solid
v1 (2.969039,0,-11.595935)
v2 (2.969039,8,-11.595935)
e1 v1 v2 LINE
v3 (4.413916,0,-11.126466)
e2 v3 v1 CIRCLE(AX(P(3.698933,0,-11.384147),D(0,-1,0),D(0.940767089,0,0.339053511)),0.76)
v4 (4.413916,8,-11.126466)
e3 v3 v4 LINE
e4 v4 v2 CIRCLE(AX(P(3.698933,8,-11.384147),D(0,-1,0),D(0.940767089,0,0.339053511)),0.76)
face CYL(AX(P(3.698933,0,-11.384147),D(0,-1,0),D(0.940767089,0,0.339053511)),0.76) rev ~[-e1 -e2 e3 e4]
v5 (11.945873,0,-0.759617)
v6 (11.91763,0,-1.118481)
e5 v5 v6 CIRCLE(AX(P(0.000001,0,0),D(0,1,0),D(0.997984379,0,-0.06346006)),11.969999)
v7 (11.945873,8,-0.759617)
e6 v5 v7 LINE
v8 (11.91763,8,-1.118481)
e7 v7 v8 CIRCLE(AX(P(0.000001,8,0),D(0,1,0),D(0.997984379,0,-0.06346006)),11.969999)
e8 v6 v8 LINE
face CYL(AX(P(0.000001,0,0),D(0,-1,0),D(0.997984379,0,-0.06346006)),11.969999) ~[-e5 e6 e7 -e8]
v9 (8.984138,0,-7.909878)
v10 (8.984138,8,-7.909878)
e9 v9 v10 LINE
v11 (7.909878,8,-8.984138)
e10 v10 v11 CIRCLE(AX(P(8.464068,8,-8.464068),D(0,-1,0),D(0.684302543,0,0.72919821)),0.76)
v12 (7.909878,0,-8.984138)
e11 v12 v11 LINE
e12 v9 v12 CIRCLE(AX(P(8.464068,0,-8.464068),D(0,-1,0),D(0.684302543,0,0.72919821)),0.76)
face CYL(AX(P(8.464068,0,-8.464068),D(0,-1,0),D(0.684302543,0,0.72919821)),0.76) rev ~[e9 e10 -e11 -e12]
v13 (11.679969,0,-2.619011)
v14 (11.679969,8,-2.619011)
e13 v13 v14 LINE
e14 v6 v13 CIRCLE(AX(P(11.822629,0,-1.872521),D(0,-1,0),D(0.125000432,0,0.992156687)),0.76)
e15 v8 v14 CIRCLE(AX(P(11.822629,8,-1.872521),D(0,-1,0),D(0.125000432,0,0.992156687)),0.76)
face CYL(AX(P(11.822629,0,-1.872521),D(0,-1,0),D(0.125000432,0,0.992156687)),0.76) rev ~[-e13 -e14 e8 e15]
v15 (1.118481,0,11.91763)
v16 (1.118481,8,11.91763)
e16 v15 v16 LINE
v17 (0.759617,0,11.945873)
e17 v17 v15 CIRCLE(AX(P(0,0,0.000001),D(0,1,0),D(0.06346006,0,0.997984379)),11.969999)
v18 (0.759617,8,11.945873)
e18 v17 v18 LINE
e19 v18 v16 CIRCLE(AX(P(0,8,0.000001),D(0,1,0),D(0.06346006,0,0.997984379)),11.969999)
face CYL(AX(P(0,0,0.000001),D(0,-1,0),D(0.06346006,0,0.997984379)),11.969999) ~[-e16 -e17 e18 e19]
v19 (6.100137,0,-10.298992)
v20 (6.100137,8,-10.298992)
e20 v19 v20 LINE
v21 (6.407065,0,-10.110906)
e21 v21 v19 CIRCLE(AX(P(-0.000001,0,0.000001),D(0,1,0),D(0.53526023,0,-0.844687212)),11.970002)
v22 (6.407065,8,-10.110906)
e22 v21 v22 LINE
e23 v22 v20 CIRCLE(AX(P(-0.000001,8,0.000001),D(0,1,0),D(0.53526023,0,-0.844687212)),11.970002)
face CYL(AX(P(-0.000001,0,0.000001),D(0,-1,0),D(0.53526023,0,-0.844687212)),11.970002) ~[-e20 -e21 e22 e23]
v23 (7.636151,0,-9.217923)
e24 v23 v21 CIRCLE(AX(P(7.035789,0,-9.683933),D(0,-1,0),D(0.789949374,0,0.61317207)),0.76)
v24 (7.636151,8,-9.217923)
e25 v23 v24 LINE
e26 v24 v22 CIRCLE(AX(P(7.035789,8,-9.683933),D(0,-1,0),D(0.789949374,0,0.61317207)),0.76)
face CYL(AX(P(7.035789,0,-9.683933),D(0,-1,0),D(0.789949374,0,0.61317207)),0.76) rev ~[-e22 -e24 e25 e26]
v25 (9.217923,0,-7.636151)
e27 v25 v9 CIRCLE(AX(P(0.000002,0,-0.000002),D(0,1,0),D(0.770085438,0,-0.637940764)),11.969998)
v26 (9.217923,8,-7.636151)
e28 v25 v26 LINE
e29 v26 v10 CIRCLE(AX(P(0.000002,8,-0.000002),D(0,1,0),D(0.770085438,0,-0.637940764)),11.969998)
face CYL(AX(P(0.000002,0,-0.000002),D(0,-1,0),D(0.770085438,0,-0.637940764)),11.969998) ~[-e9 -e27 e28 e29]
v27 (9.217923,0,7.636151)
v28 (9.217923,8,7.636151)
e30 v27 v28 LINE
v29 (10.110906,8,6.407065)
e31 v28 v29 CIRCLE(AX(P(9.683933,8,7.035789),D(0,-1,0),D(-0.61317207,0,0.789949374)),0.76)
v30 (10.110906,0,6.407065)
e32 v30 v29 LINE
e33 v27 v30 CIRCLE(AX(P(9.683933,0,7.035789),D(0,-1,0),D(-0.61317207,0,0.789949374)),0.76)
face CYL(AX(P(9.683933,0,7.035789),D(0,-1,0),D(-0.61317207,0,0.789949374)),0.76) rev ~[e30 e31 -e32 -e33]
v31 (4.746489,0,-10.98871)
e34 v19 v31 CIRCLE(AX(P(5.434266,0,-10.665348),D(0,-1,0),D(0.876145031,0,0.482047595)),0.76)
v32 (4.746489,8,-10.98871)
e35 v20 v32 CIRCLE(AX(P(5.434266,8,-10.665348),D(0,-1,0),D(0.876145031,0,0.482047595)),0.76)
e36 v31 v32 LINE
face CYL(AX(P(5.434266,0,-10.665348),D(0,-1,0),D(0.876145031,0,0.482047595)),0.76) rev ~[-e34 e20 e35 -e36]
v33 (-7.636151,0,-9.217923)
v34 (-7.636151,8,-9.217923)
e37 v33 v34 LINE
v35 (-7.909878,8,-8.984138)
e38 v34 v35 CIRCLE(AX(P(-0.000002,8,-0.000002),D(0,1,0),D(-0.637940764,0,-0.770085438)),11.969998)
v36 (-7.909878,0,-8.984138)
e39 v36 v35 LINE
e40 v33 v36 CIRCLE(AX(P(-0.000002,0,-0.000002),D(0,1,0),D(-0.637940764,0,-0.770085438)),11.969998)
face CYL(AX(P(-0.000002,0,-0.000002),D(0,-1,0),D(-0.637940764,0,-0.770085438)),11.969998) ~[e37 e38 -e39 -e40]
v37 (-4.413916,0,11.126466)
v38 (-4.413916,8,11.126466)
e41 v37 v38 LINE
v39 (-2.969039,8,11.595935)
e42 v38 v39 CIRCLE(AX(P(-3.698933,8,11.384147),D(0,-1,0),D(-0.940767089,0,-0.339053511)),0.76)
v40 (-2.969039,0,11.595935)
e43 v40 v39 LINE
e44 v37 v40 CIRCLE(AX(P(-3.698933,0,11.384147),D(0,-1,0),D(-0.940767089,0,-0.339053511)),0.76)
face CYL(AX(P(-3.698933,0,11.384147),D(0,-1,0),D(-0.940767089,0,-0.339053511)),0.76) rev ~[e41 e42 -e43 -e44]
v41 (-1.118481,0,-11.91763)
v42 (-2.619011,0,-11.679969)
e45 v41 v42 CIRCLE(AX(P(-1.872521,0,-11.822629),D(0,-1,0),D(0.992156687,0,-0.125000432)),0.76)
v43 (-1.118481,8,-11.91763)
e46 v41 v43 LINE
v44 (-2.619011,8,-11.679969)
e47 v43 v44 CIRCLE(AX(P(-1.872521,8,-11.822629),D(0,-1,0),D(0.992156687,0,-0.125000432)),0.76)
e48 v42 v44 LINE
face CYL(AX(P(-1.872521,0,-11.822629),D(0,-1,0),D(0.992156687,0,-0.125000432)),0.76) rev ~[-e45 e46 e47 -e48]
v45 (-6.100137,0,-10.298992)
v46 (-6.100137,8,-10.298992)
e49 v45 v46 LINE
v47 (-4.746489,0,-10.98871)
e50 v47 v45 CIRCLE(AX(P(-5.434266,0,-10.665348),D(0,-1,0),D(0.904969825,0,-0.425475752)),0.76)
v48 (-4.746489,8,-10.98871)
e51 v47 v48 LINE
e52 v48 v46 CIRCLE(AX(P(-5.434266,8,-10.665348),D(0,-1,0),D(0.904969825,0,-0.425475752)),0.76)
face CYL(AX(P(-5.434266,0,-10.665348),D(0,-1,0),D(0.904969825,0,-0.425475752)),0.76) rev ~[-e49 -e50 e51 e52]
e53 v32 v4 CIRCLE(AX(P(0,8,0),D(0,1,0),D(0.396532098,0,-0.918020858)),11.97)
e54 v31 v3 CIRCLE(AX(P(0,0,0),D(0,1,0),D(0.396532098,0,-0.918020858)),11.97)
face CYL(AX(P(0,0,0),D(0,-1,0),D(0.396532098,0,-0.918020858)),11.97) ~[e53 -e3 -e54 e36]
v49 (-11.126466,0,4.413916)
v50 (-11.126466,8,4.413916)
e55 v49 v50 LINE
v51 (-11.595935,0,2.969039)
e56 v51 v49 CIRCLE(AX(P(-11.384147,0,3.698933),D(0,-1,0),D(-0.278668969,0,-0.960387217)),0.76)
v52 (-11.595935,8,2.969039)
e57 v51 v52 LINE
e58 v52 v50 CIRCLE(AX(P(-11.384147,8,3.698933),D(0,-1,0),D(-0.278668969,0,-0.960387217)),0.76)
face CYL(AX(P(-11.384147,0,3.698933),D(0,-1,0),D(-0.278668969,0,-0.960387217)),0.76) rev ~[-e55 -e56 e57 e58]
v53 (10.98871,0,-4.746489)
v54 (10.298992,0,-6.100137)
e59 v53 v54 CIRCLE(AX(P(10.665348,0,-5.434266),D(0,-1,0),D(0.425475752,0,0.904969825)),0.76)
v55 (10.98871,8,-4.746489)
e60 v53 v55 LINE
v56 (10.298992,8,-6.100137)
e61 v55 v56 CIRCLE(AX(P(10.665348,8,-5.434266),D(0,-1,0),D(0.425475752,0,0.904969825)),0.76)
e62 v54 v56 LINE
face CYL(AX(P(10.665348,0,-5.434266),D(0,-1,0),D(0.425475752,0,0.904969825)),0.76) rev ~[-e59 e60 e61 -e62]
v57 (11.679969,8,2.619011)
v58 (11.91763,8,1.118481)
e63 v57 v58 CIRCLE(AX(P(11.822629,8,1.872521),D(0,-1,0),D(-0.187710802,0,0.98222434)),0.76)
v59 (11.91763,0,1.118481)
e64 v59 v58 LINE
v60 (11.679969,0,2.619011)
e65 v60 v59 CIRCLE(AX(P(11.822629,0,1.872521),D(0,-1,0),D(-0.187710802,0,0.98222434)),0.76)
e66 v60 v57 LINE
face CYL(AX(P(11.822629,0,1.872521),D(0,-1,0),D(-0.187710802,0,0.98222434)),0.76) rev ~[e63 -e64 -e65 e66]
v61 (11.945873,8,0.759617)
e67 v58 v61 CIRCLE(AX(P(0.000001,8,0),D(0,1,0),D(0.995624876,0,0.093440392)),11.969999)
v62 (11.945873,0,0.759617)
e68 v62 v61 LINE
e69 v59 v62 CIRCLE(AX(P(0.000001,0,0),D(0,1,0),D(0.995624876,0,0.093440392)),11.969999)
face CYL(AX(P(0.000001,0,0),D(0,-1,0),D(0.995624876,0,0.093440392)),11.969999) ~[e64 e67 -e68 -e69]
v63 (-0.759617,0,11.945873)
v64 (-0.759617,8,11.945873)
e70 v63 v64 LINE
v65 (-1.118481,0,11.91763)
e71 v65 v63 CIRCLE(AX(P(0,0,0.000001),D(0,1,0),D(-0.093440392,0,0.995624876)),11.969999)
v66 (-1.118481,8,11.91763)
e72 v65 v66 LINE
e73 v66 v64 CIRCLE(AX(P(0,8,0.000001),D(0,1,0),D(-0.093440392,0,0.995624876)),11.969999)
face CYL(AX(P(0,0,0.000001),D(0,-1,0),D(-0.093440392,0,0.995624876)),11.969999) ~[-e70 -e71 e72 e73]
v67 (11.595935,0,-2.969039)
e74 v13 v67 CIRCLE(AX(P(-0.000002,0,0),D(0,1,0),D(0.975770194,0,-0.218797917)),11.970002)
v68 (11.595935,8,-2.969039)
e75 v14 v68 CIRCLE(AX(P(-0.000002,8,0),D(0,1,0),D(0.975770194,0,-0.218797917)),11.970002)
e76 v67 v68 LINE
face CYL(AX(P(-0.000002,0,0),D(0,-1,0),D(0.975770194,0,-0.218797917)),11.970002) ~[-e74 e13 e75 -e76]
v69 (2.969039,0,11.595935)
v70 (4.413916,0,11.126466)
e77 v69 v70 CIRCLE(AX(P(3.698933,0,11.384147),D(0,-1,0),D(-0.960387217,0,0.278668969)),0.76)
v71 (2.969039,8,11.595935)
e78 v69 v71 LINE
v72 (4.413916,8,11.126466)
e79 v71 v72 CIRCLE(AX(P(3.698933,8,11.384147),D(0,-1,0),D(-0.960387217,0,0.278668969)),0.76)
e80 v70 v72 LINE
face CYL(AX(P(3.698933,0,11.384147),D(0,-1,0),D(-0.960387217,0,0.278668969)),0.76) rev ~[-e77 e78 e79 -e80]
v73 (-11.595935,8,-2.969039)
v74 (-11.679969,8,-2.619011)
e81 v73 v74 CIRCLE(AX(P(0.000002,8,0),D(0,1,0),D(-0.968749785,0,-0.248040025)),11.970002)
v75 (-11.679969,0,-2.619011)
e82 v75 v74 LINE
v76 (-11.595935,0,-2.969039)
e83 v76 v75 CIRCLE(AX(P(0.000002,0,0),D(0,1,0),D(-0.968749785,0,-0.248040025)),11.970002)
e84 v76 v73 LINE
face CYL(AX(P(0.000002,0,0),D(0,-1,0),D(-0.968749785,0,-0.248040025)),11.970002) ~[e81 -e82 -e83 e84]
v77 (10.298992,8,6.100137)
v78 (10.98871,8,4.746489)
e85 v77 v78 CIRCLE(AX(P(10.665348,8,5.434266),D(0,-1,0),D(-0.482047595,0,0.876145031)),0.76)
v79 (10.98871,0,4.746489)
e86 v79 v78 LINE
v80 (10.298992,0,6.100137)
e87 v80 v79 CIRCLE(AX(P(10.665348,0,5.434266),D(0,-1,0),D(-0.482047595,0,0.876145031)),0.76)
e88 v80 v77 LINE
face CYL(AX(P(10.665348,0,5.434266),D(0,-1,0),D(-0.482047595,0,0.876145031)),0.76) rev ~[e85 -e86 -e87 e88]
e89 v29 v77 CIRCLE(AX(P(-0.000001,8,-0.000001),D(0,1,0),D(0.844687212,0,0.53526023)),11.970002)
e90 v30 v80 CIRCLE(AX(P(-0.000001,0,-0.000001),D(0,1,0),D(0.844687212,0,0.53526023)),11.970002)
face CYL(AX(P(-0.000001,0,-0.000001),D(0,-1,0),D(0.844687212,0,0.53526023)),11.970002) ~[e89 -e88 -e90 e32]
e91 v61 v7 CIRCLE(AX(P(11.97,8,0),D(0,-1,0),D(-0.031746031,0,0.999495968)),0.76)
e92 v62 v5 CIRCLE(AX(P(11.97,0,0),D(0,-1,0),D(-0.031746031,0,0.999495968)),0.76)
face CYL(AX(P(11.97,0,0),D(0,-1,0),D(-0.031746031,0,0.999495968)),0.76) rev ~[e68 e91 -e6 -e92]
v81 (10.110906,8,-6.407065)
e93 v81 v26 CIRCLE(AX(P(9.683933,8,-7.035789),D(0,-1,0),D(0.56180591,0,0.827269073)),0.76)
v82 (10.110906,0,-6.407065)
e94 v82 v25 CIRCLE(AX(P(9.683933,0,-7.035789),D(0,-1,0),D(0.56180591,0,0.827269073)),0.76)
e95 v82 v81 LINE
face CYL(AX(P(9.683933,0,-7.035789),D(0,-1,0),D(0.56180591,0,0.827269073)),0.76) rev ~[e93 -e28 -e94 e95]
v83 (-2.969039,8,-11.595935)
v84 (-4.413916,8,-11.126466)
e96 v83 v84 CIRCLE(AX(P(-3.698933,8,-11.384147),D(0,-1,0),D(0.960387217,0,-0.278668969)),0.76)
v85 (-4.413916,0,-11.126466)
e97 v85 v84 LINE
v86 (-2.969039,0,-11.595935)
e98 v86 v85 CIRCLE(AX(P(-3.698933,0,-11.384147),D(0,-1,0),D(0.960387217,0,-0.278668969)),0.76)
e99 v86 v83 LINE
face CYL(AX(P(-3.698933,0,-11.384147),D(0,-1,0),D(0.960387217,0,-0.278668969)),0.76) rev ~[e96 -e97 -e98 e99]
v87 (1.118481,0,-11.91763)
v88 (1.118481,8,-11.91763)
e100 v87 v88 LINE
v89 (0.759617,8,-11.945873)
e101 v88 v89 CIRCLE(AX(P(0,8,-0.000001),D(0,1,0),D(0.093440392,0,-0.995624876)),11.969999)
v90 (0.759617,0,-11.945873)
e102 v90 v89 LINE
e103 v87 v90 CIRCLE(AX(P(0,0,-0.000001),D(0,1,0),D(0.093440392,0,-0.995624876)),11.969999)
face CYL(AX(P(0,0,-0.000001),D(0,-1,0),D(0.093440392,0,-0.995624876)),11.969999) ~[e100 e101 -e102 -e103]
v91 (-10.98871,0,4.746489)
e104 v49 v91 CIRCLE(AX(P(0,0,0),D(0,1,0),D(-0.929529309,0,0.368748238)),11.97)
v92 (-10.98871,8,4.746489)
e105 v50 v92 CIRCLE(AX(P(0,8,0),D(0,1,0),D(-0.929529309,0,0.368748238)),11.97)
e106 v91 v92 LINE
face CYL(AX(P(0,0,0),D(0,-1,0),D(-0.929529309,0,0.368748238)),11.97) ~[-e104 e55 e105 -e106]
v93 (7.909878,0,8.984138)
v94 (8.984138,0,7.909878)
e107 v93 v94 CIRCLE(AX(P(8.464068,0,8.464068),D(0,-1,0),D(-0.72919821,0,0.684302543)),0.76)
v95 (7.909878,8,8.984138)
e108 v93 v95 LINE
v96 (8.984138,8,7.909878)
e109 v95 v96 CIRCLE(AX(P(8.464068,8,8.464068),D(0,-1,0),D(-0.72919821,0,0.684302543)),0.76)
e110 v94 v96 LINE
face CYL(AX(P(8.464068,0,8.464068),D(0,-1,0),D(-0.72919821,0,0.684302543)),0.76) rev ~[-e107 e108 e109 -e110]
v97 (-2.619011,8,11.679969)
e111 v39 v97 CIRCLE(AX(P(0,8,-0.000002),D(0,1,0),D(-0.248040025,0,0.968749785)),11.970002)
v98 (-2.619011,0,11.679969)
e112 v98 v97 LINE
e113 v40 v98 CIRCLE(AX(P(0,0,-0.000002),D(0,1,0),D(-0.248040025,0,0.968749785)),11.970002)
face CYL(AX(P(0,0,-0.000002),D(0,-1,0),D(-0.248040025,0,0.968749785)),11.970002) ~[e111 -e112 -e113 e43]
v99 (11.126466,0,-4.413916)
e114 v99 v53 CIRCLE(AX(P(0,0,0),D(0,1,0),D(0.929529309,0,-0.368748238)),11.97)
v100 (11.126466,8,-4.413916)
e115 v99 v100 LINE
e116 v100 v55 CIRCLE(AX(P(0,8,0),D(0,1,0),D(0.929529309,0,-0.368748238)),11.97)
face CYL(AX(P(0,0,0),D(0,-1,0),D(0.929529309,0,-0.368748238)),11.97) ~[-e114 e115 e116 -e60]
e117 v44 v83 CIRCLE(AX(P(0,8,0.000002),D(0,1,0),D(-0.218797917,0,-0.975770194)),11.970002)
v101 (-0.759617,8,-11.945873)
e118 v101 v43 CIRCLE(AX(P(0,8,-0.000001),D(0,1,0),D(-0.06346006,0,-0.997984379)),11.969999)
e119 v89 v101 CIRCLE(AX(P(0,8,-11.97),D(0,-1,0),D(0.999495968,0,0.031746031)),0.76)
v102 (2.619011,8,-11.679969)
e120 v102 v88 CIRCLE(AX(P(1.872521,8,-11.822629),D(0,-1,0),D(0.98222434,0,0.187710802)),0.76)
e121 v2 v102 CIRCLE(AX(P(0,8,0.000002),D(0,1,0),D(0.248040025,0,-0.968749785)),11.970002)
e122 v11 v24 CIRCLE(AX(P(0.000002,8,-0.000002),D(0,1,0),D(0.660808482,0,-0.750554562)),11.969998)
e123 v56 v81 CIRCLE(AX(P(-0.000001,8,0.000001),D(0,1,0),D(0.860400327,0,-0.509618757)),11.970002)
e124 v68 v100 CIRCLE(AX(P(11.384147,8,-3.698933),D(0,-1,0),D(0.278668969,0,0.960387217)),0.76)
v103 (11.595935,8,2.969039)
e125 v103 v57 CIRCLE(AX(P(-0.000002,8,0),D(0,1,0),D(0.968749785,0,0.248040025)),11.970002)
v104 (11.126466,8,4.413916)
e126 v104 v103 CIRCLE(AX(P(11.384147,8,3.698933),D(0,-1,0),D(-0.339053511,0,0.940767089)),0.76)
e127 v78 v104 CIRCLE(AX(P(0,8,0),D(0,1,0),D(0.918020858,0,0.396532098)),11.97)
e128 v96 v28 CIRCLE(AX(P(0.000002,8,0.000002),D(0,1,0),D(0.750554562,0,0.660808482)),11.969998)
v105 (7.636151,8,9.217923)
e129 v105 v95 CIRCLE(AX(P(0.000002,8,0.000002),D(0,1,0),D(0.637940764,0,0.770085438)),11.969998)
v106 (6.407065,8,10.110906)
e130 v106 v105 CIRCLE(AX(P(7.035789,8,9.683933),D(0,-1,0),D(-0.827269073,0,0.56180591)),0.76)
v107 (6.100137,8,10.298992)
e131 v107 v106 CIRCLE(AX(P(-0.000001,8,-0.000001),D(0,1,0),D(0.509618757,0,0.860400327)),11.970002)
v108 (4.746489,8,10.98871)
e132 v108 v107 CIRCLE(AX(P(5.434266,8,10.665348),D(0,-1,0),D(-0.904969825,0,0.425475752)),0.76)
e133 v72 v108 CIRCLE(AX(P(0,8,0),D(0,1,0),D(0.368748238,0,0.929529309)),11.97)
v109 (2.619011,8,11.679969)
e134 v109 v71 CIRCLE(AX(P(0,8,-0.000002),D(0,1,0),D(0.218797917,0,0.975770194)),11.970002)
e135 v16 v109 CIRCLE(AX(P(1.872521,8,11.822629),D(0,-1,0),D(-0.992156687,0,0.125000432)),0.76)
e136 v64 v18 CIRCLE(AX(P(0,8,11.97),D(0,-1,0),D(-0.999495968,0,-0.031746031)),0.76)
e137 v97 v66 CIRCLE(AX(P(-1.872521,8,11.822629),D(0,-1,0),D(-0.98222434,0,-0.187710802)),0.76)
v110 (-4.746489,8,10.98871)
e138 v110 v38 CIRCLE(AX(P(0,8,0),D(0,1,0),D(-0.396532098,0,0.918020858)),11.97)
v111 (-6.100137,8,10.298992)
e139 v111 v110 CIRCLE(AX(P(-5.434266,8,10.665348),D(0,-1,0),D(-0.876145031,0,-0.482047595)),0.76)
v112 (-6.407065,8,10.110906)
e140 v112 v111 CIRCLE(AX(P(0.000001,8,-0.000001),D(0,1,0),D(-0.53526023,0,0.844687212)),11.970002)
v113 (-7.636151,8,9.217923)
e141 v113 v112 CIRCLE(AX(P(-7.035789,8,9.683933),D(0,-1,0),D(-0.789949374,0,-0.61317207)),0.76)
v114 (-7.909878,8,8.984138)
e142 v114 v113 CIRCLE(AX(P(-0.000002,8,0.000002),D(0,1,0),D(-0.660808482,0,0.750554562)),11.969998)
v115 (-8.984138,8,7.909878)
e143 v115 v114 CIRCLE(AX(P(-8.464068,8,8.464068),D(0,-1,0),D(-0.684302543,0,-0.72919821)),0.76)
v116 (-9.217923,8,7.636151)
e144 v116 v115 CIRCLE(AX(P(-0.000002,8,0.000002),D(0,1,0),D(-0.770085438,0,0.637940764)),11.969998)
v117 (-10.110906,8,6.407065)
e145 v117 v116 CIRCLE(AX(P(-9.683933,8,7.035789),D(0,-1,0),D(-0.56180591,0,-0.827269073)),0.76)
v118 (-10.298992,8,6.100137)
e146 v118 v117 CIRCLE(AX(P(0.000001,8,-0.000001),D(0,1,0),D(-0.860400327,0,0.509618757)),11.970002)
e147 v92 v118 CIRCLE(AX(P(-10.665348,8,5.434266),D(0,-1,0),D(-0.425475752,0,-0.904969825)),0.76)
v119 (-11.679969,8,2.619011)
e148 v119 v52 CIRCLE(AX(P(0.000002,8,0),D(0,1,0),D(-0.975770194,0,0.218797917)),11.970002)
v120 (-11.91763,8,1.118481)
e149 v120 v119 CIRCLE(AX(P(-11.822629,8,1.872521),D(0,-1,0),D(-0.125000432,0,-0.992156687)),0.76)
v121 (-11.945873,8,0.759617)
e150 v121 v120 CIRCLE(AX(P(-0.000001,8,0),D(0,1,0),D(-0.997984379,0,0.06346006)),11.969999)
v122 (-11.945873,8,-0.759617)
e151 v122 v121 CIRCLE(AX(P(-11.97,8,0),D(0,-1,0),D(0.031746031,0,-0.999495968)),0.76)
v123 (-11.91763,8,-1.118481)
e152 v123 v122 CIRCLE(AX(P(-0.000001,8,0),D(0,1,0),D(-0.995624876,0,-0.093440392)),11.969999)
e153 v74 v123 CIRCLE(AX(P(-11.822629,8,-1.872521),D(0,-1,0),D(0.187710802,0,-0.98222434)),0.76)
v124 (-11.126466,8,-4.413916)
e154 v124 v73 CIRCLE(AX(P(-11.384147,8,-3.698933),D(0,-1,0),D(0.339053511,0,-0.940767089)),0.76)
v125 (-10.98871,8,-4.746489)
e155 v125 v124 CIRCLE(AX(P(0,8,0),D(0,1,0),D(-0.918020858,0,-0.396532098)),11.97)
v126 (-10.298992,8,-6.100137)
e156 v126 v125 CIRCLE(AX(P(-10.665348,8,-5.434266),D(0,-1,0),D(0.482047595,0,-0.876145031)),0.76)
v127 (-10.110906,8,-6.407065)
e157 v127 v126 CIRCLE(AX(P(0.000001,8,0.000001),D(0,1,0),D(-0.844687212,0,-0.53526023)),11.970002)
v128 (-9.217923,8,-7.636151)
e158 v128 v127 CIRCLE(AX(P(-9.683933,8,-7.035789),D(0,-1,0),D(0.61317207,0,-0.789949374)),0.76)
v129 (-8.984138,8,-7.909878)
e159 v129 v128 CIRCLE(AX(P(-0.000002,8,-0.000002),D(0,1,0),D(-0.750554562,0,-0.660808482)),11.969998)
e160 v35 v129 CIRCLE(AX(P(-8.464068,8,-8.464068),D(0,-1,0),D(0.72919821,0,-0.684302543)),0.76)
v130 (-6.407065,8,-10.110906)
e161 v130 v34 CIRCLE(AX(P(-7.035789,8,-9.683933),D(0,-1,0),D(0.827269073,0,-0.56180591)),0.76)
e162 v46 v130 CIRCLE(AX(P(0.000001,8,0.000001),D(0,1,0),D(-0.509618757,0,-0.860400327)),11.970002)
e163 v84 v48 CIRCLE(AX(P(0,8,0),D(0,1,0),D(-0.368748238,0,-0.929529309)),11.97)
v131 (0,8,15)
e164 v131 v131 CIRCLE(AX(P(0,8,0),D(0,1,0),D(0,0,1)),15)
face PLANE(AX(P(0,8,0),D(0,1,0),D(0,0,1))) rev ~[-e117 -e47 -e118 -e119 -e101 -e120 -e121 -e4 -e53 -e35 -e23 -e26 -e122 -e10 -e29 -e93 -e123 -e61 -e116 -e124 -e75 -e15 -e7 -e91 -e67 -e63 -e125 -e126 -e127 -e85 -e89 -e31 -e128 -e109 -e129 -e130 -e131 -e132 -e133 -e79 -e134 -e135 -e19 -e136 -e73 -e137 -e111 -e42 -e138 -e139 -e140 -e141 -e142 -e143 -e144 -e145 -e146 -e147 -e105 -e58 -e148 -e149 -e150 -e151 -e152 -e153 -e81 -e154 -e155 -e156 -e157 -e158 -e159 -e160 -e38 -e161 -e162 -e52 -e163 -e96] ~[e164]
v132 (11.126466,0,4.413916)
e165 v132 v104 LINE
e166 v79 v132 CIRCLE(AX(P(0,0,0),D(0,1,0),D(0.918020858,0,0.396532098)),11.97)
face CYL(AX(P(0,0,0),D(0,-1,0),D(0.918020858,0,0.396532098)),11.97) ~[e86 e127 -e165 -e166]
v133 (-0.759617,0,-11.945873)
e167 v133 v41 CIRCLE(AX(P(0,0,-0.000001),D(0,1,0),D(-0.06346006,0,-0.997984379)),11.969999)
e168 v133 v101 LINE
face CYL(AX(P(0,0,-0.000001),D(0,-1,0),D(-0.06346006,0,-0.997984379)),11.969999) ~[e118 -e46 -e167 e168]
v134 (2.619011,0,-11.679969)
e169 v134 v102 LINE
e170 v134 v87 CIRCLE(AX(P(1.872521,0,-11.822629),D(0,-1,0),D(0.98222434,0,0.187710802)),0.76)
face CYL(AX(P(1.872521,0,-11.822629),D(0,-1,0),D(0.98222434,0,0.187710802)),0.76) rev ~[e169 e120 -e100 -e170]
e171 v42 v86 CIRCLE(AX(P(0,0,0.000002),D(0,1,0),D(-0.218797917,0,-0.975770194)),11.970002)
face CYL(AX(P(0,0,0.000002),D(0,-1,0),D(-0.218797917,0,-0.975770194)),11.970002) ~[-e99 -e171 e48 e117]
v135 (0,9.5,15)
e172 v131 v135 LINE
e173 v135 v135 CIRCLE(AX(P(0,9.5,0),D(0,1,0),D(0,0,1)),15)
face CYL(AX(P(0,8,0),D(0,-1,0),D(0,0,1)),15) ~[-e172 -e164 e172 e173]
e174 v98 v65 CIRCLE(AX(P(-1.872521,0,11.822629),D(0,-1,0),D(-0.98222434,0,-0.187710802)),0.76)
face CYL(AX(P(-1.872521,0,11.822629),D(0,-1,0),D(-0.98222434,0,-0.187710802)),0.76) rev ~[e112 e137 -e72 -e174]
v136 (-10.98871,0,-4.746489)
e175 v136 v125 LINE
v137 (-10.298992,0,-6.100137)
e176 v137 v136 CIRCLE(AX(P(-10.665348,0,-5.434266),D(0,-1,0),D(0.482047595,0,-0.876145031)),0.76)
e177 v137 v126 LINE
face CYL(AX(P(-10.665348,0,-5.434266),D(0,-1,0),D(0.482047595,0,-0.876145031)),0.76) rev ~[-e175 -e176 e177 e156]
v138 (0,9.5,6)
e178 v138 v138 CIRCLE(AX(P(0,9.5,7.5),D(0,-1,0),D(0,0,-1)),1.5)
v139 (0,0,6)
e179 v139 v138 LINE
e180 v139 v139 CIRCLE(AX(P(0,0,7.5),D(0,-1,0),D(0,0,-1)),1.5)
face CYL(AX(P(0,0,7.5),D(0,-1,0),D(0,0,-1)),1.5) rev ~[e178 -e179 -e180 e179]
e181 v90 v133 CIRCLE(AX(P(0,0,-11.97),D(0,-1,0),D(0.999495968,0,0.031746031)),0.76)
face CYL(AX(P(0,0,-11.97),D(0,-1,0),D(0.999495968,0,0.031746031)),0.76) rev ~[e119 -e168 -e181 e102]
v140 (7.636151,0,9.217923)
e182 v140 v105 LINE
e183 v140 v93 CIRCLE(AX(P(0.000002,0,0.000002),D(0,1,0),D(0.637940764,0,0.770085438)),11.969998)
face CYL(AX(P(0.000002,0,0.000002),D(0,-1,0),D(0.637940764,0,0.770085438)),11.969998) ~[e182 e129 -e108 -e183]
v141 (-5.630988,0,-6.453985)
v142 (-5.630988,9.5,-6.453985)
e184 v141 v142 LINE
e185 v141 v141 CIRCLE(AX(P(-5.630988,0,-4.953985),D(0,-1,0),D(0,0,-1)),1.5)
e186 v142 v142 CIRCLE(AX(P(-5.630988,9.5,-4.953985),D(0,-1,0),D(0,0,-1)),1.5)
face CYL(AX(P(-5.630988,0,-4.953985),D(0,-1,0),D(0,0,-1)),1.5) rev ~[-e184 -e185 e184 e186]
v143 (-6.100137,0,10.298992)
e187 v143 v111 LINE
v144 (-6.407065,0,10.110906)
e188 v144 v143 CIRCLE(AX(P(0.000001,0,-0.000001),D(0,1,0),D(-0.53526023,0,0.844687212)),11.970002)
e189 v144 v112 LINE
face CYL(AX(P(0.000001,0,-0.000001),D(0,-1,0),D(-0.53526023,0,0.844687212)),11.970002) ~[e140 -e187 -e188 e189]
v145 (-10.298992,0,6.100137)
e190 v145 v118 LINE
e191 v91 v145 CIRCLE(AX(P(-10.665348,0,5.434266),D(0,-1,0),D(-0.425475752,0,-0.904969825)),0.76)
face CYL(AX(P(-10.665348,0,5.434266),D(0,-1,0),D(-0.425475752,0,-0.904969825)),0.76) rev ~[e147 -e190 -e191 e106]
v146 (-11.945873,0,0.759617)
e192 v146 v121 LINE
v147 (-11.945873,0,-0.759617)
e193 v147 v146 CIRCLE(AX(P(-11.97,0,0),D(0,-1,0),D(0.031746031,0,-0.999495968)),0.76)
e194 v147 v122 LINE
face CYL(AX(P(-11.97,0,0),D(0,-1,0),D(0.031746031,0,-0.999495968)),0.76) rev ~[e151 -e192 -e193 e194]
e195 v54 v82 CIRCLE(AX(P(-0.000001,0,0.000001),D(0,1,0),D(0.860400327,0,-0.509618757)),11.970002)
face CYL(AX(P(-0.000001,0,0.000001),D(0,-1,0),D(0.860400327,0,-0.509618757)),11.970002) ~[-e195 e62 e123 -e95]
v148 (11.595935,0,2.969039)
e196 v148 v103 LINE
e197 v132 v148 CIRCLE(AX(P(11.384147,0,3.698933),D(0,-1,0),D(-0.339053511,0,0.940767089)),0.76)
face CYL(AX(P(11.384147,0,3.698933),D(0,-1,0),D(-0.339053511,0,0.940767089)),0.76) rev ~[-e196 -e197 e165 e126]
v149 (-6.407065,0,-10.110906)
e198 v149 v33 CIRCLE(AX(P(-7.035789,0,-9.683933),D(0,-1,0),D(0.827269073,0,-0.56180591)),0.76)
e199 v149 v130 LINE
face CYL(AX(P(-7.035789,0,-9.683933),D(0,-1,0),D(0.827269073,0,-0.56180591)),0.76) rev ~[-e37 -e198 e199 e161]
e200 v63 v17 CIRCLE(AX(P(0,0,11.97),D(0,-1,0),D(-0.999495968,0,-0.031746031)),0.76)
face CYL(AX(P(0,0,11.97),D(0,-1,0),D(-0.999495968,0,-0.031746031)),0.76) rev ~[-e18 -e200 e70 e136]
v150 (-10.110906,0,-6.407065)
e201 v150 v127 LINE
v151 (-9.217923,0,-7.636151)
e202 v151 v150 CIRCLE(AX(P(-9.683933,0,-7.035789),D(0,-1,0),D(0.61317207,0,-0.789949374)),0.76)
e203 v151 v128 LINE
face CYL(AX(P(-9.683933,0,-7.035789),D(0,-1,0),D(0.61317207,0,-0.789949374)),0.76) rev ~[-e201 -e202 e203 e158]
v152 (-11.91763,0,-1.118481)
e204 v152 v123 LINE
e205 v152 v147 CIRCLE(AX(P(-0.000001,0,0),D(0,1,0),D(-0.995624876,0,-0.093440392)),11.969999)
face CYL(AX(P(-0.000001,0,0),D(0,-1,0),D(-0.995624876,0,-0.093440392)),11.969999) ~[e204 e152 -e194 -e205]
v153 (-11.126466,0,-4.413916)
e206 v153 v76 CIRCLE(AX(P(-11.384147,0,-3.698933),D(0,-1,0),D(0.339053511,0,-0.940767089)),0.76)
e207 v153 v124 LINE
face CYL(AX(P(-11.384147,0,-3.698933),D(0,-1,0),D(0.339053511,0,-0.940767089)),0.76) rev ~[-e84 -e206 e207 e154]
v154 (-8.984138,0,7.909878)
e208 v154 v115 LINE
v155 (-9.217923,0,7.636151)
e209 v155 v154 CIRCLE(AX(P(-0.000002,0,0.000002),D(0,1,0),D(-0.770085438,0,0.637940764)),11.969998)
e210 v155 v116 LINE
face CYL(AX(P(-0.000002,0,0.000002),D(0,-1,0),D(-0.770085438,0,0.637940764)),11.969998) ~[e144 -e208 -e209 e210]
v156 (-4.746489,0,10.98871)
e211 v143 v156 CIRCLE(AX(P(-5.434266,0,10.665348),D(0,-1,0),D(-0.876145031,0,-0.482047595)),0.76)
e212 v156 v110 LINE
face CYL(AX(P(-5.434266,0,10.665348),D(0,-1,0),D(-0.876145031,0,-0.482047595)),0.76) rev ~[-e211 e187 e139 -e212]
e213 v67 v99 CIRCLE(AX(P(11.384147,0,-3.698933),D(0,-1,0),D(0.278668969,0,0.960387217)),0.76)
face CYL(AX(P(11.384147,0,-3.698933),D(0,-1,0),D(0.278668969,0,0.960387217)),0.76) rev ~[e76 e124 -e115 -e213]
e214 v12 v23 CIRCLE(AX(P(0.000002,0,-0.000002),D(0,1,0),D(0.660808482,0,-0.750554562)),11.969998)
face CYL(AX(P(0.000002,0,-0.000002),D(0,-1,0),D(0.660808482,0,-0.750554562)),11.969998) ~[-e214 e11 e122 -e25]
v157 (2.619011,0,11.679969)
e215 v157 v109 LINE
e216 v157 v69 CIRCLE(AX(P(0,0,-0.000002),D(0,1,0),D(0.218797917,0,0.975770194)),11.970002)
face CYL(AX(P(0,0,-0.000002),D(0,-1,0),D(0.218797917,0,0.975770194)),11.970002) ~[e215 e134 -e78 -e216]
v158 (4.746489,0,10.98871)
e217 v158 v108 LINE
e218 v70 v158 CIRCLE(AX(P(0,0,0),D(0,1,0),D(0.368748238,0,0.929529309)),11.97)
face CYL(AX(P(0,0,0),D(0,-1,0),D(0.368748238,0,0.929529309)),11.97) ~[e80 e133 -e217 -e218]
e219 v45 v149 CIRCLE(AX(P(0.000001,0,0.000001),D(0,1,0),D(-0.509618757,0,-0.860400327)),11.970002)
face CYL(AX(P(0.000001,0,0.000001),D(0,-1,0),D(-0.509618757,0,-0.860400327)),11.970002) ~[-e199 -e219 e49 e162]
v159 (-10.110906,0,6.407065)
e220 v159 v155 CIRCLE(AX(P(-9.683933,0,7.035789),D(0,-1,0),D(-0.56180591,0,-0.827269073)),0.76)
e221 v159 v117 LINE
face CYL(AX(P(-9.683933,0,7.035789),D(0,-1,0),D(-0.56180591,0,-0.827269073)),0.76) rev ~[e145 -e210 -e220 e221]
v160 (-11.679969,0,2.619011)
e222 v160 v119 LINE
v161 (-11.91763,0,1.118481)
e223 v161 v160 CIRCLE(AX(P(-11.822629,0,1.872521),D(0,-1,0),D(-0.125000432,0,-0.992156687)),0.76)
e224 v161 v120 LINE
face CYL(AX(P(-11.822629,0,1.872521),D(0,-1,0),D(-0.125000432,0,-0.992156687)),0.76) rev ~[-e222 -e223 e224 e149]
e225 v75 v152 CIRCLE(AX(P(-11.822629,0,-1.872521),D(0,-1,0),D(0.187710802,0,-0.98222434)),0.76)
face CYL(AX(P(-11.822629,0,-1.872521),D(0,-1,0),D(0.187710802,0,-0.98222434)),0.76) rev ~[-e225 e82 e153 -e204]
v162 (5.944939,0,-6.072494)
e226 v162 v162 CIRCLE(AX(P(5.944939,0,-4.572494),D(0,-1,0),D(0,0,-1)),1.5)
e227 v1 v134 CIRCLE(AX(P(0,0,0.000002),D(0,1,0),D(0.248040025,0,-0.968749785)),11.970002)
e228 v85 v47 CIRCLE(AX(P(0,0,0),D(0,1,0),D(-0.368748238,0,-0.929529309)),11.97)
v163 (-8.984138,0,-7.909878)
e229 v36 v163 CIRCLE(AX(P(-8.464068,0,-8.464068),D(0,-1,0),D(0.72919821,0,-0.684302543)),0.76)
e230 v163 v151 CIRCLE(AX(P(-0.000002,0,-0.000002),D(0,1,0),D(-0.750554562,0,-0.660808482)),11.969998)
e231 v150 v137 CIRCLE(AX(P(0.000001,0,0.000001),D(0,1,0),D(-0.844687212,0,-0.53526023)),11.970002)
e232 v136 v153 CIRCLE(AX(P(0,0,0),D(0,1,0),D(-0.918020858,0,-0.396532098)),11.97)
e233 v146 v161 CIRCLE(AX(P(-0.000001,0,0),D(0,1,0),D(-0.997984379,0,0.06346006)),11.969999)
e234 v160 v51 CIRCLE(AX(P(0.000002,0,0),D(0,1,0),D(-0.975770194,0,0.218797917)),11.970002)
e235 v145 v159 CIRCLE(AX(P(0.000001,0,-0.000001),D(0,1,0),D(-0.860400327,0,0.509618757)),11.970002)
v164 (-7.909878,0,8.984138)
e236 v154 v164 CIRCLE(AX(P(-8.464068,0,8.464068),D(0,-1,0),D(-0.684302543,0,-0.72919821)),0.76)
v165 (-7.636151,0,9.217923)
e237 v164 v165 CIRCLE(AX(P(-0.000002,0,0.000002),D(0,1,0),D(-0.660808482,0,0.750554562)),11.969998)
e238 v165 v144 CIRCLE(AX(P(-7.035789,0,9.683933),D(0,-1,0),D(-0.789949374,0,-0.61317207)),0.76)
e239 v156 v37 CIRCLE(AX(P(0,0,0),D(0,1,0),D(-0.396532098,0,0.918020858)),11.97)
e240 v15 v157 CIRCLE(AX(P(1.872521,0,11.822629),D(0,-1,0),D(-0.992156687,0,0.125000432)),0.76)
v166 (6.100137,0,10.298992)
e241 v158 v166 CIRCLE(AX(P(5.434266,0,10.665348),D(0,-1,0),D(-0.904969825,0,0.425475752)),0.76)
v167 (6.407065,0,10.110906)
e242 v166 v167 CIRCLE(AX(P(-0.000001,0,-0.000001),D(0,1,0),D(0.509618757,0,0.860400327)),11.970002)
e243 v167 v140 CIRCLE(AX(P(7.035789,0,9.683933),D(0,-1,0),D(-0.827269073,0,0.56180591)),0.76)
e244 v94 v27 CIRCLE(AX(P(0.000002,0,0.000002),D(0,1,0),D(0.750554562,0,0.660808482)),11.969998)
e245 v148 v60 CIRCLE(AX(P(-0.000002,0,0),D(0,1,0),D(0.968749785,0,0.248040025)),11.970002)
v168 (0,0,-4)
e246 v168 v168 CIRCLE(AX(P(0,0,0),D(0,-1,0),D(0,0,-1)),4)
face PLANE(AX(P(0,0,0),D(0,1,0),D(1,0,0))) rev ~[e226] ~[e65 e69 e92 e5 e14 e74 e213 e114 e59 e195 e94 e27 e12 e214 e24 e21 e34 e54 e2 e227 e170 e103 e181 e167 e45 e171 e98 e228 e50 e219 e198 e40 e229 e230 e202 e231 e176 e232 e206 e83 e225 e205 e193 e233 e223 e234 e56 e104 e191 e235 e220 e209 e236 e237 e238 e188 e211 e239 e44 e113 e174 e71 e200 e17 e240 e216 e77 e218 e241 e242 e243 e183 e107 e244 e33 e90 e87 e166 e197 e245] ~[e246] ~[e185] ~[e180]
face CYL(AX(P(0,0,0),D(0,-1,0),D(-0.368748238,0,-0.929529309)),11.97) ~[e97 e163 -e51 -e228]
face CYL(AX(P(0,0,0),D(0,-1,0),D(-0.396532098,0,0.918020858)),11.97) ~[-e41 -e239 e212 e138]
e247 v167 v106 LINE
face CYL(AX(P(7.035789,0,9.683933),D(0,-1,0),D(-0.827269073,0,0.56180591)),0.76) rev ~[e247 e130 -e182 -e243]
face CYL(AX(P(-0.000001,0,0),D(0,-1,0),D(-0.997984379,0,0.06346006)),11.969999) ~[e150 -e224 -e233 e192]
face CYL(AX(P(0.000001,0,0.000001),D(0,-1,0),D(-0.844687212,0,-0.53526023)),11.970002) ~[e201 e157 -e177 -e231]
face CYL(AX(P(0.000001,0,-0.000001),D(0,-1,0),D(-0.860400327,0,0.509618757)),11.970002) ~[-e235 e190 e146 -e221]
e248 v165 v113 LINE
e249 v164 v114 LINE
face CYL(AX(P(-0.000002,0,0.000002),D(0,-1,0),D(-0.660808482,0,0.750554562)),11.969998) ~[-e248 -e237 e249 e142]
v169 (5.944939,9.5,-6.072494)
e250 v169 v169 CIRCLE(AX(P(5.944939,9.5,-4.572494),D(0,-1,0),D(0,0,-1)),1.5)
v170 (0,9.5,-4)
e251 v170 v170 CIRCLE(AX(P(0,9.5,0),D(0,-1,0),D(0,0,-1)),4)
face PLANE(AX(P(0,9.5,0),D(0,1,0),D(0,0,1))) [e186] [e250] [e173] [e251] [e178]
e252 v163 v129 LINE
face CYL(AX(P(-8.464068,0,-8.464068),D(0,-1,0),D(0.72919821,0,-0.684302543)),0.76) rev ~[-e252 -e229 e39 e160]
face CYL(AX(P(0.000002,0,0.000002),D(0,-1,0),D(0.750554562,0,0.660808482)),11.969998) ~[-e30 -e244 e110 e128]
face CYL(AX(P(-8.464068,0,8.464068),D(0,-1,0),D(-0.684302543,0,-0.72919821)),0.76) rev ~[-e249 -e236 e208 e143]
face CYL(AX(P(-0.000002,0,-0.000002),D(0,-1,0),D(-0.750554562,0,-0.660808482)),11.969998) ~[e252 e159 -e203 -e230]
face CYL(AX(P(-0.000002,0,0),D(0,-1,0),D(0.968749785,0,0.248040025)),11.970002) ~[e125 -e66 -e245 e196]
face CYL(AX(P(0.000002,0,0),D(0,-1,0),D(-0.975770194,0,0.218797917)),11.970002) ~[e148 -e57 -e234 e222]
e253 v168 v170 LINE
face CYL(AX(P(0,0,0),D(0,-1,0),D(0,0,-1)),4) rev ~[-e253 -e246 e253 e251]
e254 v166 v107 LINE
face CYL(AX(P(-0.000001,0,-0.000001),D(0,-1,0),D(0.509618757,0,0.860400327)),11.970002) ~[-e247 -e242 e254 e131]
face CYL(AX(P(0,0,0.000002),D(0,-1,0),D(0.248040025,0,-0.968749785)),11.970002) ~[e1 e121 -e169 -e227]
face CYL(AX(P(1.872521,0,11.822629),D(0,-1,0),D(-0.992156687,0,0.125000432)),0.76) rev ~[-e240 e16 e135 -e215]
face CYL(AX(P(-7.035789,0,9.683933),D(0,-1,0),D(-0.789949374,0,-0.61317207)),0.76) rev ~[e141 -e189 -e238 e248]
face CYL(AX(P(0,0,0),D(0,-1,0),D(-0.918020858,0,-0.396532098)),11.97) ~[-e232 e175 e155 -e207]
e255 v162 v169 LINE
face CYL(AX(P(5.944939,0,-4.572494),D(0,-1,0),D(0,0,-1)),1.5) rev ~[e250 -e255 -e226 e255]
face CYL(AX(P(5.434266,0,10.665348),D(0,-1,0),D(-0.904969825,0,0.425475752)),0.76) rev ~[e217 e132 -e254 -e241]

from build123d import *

# Parameters (mm, degrees)
BOSS_EXTRUDE1_DEPTH = 8
SKETCH2_R           = 15
BOSS_EXTRUDE2_DEPTH = 1.5
SKETCH4_R           = 4
SKETCH4_R_2         = 1.5
CUT_EXTRUDE1_DEPTH  = 23


with BuildPart() as part:
    # Sketch1 → Boss-Extrude1 (new body)
    with BuildSketch(Plane(origin=(0, 0, 0), x_dir=(1, 0, 0), z_dir=(0, 1, 0))):
        with BuildLine():
            ThreePointArc((-2.619011045, 11.679969227), (-2.794341005, 11.639267947), (-2.969039138, 11.595934917))
            ThreePointArc((-2.969039138, 11.595934917), (-3.464080507, 10.661343548), (-4.413916411, 11.126465832))
            ThreePointArc((-4.413916411, 11.126465832), (-4.580720685, 11.058838004), (-4.746489215, 10.988709666))
            ThreePointArc((-4.746489215, 10.988709666), (-5.089233502, 9.988183136), (-6.100136506, 10.298991922))
            ThreePointArc((-6.100136506, 10.298991922), (-6.25430782, 10.206102767), (-6.407064974, 10.110905915))
            ThreePointArc((-6.407064974, 10.110905915), (-6.589072678, 9.069080507), (-7.636150994, 9.21792265))
            ThreePointArc((-7.636150994, 9.21792265), (-7.773893139, 9.102059408), (-7.909877531, 8.984138103))
            ThreePointArc((-7.909877531, 8.984138103), (-7.926667017, 7.926667017), (-8.984138103, 7.909877531))
            ThreePointArc((-8.984138103, 7.909877531), (-9.102059408, 7.773893139), (-9.21792265, 7.636150994))
            ThreePointArc((-9.21792265, 7.636150994), (-9.069080507, 6.589072678), (-10.110905915, 6.407064974))
            ThreePointArc((-10.110905915, 6.407064974), (-10.206102767, 6.25430782), (-10.298991922, 6.100136506))
            ThreePointArc((-10.298991922, 6.100136506), (-9.988183136, 5.089233502), (-10.988709666, 4.746489215))
            ThreePointArc((-10.988709666, 4.746489215), (-11.058838004, 4.580720685), (-11.126465832, 4.413916411))
            ThreePointArc((-11.126465832, 4.413916411), (-10.661343548, 3.464080507), (-11.595934917, 2.969039138))
            ThreePointArc((-11.595934917, 2.969039138), (-11.639267947, 2.794341005), (-11.679969227, 2.619011045))
            ThreePointArc((-11.679969227, 2.619011045), (-11.071986298, 1.753630353), (-11.917629765, 1.118481464))
            ThreePointArc((-11.917629765, 1.118481464), (-11.933100485, 0.939155376), (-11.945873016, 0.759616935))
            ThreePointArc((-11.945873016, 0.759616935), (-11.21, 0), (-11.945873016, -0.759616935))
            ThreePointArc((-11.945873016, -0.759616935), (-11.933100485, -0.939155376), (-11.917629765, -1.118481464))
            ThreePointArc((-11.917629765, -1.118481464), (-11.071986298, -1.753630353), (-11.679969227, -2.619011045))
            ThreePointArc((-11.679969227, -2.619011045), (-11.639267947, -2.794341005), (-11.595934917, -2.969039138))
            ThreePointArc((-11.595934917, -2.969039138), (-10.661343548, -3.464080507), (-11.126465832, -4.413916411))
            ThreePointArc((-11.126465832, -4.413916411), (-11.058838004, -4.580720685), (-10.988709666, -4.746489215))
            ThreePointArc((-10.988709666, -4.746489215), (-9.988183136, -5.089233502), (-10.298991922, -6.100136506))
            ThreePointArc((-10.298991922, -6.100136506), (-10.206102767, -6.25430782), (-10.110905915, -6.407064974))
            ThreePointArc((-10.110905915, -6.407064974), (-9.069080507, -6.589072678), (-9.21792265, -7.636150994))
            ThreePointArc((-9.21792265, -7.636150994), (-9.102059408, -7.773893139), (-8.984138103, -7.909877531))
            ThreePointArc((-8.984138103, -7.909877531), (-7.926667017, -7.926667017), (-7.909877531, -8.984138103))
            ThreePointArc((-7.909877531, -8.984138103), (-7.773893139, -9.102059408), (-7.636150994, -9.21792265))
            ThreePointArc((-7.636150994, -9.21792265), (-6.589072678, -9.069080507), (-6.407064974, -10.110905915))
            ThreePointArc((-6.407064974, -10.110905915), (-6.25430782, -10.206102767), (-6.100136506, -10.298991922))
            ThreePointArc((-6.100136506, -10.298991922), (-5.089233502, -9.988183136), (-4.746489215, -10.988709666))
            ThreePointArc((-4.746489215, -10.988709666), (-4.580720685, -11.058838004), (-4.413916411, -11.126465832))
            ThreePointArc((-4.413916411, -11.126465832), (-3.464080507, -10.661343548), (-2.969039138, -11.595934917))
            ThreePointArc((-2.969039138, -11.595934917), (-2.794341005, -11.639267947), (-2.619011045, -11.679969227))
            ThreePointArc((-2.619011045, -11.679969227), (-1.753630353, -11.071986298), (-1.118481464, -11.917629765))
            ThreePointArc((-1.118481464, -11.917629765), (-0.939155376, -11.933100485), (-0.759616935, -11.945873016))
            ThreePointArc((-0.759616935, -11.945873016), (0, -11.21), (0.759616935, -11.945873016))
            ThreePointArc((0.759616935, -11.945873016), (0.939155376, -11.933100485), (1.118481464, -11.917629765))
            ThreePointArc((1.118481464, -11.917629765), (1.753630353, -11.071986298), (2.619011045, -11.679969227))
            ThreePointArc((2.619011045, -11.679969227), (2.794341005, -11.639267947), (2.969039138, -11.595934917))
            ThreePointArc((2.969039138, -11.595934917), (3.464080507, -10.661343548), (4.413916411, -11.126465832))
            ThreePointArc((4.413916411, -11.126465832), (4.580720685, -11.058838004), (4.746489215, -10.988709666))
            ThreePointArc((4.746489215, -10.988709666), (5.089233502, -9.988183136), (6.100136506, -10.298991922))
            ThreePointArc((6.100136506, -10.298991922), (6.25430782, -10.206102767), (6.407064974, -10.110905915))
            ThreePointArc((6.407064974, -10.110905915), (6.589072678, -9.069080507), (7.636150994, -9.21792265))
            ThreePointArc((7.636150994, -9.21792265), (7.773893139, -9.102059408), (7.909877531, -8.984138103))
            ThreePointArc((7.909877531, -8.984138103), (7.926667017, -7.926667017), (8.984138103, -7.909877531))
            ThreePointArc((8.984138103, -7.909877531), (9.102059408, -7.773893139), (9.21792265, -7.636150994))
            ThreePointArc((9.21792265, -7.636150994), (9.069080507, -6.589072678), (10.110905915, -6.407064974))
            ThreePointArc((10.110905915, -6.407064974), (10.206102767, -6.25430782), (10.298991922, -6.100136506))
            ThreePointArc((10.298991922, -6.100136506), (9.988183136, -5.089233502), (10.988709666, -4.746489215))
            ThreePointArc((10.988709666, -4.746489215), (11.058838004, -4.580720685), (11.126465832, -4.413916411))
            ThreePointArc((11.126465832, -4.413916411), (10.661343548, -3.464080507), (11.595934917, -2.969039138))
            ThreePointArc((11.595934917, -2.969039138), (11.639267947, -2.794341005), (11.679969227, -2.619011045))
            ThreePointArc((11.679969227, -2.619011045), (11.071986298, -1.753630353), (11.917629765, -1.118481464))
            ThreePointArc((11.917629765, -1.118481464), (11.933100485, -0.939155376), (11.945873016, -0.759616935))
            ThreePointArc((11.945873016, -0.759616935), (11.21, 0), (11.945873016, 0.759616935))
            ThreePointArc((11.945873016, 0.759616935), (11.933100485, 0.939155376), (11.917629765, 1.118481464))
            ThreePointArc((11.917629765, 1.118481464), (11.071986298, 1.753630353), (11.679969227, 2.619011045))
            ThreePointArc((11.679969227, 2.619011045), (11.639267947, 2.794341005), (11.595934917, 2.969039138))
            ThreePointArc((11.595934917, 2.969039138), (10.661343548, 3.464080507), (11.126465832, 4.413916411))
            ThreePointArc((11.126465832, 4.413916411), (11.058838004, 4.580720685), (10.988709666, 4.746489215))
            ThreePointArc((10.988709666, 4.746489215), (9.988183136, 5.089233502), (10.298991922, 6.100136506))
            ThreePointArc((10.298991922, 6.100136506), (10.206102767, 6.25430782), (10.110905915, 6.407064974))
            ThreePointArc((10.110905915, 6.407064974), (9.069080507, 6.589072678), (9.21792265, 7.636150994))
            ThreePointArc((9.21792265, 7.636150994), (9.102059408, 7.773893139), (8.984138103, 7.909877531))
            ThreePointArc((8.984138103, 7.909877531), (7.926667017, 7.926667017), (7.909877531, 8.984138103))
            ThreePointArc((7.909877531, 8.984138103), (7.773893139, 9.102059408), (7.636150994, 9.21792265))
            ThreePointArc((7.636150994, 9.21792265), (6.589072678, 9.069080507), (6.407064974, 10.110905915))
            ThreePointArc((6.407064974, 10.110905915), (6.25430782, 10.206102767), (6.100136506, 10.298991922))
            ThreePointArc((6.100136506, 10.298991922), (5.089233502, 9.988183136), (4.746489215, 10.988709666))
            ThreePointArc((4.746489215, 10.988709666), (4.580720685, 11.058838004), (4.413916411, 11.126465832))
            ThreePointArc((4.413916411, 11.126465832), (3.464080507, 10.661343548), (2.969039138, 11.595934917))
            ThreePointArc((2.969039138, 11.595934917), (2.794341005, 11.639267947), (2.619011045, 11.679969227))
            ThreePointArc((2.619011045, 11.679969227), (1.753630353, 11.071986298), (1.118481464, 11.917629765))
            ThreePointArc((1.118481464, 11.917629765), (0.939155376, 11.933100485), (0.759616935, 11.945873016))
            ThreePointArc((0.759616935, 11.945873016), (0, 11.21), (-0.759616935, 11.945873016))
            ThreePointArc((-0.759616935, 11.945873016), (-0.939155376, 11.933100485), (-1.118481464, 11.917629765))
            ThreePointArc((-1.118481464, 11.917629765), (-1.753630353, 11.071986298), (-2.619011045, 11.679969227))
        make_face()
    extrude(amount=BOSS_EXTRUDE1_DEPTH)

    # Sketch2 → Boss-Extrude2 (add)
    with BuildSketch(Plane(origin=(0, 8, 0), x_dir=(1, 0, 0), z_dir=(0, 1, 0))):
        with Locations(Location((0, 0, 0), (0, 0, 270))):
            Circle(SKETCH2_R)
    extrude(amount=BOSS_EXTRUDE2_DEPTH)

    # Sketch4 → Cut-Extrude1 (cut)
    with BuildSketch(Plane.XZ):
        with Locations(Location((0, 0, 0), (0, 0, 270))):
            Circle(SKETCH4_R)
        with Locations(Location((0, 7.5, 0), (0, 0, 270))):
            Circle(SKETCH4_R_2)
        with Locations(Location((5.944938911, -4.572493996, 0), (0, 0, 270))):
            Circle(SKETCH4_R_2)
        with Locations(Location((-5.630988244, -4.953985406, 0), (0, 0, 270))):
            Circle(SKETCH4_R_2)
    extrude(amount=-CUT_EXTRUDE1_DEPTH, mode=Mode.SUBTRACT)


solid = part.part
